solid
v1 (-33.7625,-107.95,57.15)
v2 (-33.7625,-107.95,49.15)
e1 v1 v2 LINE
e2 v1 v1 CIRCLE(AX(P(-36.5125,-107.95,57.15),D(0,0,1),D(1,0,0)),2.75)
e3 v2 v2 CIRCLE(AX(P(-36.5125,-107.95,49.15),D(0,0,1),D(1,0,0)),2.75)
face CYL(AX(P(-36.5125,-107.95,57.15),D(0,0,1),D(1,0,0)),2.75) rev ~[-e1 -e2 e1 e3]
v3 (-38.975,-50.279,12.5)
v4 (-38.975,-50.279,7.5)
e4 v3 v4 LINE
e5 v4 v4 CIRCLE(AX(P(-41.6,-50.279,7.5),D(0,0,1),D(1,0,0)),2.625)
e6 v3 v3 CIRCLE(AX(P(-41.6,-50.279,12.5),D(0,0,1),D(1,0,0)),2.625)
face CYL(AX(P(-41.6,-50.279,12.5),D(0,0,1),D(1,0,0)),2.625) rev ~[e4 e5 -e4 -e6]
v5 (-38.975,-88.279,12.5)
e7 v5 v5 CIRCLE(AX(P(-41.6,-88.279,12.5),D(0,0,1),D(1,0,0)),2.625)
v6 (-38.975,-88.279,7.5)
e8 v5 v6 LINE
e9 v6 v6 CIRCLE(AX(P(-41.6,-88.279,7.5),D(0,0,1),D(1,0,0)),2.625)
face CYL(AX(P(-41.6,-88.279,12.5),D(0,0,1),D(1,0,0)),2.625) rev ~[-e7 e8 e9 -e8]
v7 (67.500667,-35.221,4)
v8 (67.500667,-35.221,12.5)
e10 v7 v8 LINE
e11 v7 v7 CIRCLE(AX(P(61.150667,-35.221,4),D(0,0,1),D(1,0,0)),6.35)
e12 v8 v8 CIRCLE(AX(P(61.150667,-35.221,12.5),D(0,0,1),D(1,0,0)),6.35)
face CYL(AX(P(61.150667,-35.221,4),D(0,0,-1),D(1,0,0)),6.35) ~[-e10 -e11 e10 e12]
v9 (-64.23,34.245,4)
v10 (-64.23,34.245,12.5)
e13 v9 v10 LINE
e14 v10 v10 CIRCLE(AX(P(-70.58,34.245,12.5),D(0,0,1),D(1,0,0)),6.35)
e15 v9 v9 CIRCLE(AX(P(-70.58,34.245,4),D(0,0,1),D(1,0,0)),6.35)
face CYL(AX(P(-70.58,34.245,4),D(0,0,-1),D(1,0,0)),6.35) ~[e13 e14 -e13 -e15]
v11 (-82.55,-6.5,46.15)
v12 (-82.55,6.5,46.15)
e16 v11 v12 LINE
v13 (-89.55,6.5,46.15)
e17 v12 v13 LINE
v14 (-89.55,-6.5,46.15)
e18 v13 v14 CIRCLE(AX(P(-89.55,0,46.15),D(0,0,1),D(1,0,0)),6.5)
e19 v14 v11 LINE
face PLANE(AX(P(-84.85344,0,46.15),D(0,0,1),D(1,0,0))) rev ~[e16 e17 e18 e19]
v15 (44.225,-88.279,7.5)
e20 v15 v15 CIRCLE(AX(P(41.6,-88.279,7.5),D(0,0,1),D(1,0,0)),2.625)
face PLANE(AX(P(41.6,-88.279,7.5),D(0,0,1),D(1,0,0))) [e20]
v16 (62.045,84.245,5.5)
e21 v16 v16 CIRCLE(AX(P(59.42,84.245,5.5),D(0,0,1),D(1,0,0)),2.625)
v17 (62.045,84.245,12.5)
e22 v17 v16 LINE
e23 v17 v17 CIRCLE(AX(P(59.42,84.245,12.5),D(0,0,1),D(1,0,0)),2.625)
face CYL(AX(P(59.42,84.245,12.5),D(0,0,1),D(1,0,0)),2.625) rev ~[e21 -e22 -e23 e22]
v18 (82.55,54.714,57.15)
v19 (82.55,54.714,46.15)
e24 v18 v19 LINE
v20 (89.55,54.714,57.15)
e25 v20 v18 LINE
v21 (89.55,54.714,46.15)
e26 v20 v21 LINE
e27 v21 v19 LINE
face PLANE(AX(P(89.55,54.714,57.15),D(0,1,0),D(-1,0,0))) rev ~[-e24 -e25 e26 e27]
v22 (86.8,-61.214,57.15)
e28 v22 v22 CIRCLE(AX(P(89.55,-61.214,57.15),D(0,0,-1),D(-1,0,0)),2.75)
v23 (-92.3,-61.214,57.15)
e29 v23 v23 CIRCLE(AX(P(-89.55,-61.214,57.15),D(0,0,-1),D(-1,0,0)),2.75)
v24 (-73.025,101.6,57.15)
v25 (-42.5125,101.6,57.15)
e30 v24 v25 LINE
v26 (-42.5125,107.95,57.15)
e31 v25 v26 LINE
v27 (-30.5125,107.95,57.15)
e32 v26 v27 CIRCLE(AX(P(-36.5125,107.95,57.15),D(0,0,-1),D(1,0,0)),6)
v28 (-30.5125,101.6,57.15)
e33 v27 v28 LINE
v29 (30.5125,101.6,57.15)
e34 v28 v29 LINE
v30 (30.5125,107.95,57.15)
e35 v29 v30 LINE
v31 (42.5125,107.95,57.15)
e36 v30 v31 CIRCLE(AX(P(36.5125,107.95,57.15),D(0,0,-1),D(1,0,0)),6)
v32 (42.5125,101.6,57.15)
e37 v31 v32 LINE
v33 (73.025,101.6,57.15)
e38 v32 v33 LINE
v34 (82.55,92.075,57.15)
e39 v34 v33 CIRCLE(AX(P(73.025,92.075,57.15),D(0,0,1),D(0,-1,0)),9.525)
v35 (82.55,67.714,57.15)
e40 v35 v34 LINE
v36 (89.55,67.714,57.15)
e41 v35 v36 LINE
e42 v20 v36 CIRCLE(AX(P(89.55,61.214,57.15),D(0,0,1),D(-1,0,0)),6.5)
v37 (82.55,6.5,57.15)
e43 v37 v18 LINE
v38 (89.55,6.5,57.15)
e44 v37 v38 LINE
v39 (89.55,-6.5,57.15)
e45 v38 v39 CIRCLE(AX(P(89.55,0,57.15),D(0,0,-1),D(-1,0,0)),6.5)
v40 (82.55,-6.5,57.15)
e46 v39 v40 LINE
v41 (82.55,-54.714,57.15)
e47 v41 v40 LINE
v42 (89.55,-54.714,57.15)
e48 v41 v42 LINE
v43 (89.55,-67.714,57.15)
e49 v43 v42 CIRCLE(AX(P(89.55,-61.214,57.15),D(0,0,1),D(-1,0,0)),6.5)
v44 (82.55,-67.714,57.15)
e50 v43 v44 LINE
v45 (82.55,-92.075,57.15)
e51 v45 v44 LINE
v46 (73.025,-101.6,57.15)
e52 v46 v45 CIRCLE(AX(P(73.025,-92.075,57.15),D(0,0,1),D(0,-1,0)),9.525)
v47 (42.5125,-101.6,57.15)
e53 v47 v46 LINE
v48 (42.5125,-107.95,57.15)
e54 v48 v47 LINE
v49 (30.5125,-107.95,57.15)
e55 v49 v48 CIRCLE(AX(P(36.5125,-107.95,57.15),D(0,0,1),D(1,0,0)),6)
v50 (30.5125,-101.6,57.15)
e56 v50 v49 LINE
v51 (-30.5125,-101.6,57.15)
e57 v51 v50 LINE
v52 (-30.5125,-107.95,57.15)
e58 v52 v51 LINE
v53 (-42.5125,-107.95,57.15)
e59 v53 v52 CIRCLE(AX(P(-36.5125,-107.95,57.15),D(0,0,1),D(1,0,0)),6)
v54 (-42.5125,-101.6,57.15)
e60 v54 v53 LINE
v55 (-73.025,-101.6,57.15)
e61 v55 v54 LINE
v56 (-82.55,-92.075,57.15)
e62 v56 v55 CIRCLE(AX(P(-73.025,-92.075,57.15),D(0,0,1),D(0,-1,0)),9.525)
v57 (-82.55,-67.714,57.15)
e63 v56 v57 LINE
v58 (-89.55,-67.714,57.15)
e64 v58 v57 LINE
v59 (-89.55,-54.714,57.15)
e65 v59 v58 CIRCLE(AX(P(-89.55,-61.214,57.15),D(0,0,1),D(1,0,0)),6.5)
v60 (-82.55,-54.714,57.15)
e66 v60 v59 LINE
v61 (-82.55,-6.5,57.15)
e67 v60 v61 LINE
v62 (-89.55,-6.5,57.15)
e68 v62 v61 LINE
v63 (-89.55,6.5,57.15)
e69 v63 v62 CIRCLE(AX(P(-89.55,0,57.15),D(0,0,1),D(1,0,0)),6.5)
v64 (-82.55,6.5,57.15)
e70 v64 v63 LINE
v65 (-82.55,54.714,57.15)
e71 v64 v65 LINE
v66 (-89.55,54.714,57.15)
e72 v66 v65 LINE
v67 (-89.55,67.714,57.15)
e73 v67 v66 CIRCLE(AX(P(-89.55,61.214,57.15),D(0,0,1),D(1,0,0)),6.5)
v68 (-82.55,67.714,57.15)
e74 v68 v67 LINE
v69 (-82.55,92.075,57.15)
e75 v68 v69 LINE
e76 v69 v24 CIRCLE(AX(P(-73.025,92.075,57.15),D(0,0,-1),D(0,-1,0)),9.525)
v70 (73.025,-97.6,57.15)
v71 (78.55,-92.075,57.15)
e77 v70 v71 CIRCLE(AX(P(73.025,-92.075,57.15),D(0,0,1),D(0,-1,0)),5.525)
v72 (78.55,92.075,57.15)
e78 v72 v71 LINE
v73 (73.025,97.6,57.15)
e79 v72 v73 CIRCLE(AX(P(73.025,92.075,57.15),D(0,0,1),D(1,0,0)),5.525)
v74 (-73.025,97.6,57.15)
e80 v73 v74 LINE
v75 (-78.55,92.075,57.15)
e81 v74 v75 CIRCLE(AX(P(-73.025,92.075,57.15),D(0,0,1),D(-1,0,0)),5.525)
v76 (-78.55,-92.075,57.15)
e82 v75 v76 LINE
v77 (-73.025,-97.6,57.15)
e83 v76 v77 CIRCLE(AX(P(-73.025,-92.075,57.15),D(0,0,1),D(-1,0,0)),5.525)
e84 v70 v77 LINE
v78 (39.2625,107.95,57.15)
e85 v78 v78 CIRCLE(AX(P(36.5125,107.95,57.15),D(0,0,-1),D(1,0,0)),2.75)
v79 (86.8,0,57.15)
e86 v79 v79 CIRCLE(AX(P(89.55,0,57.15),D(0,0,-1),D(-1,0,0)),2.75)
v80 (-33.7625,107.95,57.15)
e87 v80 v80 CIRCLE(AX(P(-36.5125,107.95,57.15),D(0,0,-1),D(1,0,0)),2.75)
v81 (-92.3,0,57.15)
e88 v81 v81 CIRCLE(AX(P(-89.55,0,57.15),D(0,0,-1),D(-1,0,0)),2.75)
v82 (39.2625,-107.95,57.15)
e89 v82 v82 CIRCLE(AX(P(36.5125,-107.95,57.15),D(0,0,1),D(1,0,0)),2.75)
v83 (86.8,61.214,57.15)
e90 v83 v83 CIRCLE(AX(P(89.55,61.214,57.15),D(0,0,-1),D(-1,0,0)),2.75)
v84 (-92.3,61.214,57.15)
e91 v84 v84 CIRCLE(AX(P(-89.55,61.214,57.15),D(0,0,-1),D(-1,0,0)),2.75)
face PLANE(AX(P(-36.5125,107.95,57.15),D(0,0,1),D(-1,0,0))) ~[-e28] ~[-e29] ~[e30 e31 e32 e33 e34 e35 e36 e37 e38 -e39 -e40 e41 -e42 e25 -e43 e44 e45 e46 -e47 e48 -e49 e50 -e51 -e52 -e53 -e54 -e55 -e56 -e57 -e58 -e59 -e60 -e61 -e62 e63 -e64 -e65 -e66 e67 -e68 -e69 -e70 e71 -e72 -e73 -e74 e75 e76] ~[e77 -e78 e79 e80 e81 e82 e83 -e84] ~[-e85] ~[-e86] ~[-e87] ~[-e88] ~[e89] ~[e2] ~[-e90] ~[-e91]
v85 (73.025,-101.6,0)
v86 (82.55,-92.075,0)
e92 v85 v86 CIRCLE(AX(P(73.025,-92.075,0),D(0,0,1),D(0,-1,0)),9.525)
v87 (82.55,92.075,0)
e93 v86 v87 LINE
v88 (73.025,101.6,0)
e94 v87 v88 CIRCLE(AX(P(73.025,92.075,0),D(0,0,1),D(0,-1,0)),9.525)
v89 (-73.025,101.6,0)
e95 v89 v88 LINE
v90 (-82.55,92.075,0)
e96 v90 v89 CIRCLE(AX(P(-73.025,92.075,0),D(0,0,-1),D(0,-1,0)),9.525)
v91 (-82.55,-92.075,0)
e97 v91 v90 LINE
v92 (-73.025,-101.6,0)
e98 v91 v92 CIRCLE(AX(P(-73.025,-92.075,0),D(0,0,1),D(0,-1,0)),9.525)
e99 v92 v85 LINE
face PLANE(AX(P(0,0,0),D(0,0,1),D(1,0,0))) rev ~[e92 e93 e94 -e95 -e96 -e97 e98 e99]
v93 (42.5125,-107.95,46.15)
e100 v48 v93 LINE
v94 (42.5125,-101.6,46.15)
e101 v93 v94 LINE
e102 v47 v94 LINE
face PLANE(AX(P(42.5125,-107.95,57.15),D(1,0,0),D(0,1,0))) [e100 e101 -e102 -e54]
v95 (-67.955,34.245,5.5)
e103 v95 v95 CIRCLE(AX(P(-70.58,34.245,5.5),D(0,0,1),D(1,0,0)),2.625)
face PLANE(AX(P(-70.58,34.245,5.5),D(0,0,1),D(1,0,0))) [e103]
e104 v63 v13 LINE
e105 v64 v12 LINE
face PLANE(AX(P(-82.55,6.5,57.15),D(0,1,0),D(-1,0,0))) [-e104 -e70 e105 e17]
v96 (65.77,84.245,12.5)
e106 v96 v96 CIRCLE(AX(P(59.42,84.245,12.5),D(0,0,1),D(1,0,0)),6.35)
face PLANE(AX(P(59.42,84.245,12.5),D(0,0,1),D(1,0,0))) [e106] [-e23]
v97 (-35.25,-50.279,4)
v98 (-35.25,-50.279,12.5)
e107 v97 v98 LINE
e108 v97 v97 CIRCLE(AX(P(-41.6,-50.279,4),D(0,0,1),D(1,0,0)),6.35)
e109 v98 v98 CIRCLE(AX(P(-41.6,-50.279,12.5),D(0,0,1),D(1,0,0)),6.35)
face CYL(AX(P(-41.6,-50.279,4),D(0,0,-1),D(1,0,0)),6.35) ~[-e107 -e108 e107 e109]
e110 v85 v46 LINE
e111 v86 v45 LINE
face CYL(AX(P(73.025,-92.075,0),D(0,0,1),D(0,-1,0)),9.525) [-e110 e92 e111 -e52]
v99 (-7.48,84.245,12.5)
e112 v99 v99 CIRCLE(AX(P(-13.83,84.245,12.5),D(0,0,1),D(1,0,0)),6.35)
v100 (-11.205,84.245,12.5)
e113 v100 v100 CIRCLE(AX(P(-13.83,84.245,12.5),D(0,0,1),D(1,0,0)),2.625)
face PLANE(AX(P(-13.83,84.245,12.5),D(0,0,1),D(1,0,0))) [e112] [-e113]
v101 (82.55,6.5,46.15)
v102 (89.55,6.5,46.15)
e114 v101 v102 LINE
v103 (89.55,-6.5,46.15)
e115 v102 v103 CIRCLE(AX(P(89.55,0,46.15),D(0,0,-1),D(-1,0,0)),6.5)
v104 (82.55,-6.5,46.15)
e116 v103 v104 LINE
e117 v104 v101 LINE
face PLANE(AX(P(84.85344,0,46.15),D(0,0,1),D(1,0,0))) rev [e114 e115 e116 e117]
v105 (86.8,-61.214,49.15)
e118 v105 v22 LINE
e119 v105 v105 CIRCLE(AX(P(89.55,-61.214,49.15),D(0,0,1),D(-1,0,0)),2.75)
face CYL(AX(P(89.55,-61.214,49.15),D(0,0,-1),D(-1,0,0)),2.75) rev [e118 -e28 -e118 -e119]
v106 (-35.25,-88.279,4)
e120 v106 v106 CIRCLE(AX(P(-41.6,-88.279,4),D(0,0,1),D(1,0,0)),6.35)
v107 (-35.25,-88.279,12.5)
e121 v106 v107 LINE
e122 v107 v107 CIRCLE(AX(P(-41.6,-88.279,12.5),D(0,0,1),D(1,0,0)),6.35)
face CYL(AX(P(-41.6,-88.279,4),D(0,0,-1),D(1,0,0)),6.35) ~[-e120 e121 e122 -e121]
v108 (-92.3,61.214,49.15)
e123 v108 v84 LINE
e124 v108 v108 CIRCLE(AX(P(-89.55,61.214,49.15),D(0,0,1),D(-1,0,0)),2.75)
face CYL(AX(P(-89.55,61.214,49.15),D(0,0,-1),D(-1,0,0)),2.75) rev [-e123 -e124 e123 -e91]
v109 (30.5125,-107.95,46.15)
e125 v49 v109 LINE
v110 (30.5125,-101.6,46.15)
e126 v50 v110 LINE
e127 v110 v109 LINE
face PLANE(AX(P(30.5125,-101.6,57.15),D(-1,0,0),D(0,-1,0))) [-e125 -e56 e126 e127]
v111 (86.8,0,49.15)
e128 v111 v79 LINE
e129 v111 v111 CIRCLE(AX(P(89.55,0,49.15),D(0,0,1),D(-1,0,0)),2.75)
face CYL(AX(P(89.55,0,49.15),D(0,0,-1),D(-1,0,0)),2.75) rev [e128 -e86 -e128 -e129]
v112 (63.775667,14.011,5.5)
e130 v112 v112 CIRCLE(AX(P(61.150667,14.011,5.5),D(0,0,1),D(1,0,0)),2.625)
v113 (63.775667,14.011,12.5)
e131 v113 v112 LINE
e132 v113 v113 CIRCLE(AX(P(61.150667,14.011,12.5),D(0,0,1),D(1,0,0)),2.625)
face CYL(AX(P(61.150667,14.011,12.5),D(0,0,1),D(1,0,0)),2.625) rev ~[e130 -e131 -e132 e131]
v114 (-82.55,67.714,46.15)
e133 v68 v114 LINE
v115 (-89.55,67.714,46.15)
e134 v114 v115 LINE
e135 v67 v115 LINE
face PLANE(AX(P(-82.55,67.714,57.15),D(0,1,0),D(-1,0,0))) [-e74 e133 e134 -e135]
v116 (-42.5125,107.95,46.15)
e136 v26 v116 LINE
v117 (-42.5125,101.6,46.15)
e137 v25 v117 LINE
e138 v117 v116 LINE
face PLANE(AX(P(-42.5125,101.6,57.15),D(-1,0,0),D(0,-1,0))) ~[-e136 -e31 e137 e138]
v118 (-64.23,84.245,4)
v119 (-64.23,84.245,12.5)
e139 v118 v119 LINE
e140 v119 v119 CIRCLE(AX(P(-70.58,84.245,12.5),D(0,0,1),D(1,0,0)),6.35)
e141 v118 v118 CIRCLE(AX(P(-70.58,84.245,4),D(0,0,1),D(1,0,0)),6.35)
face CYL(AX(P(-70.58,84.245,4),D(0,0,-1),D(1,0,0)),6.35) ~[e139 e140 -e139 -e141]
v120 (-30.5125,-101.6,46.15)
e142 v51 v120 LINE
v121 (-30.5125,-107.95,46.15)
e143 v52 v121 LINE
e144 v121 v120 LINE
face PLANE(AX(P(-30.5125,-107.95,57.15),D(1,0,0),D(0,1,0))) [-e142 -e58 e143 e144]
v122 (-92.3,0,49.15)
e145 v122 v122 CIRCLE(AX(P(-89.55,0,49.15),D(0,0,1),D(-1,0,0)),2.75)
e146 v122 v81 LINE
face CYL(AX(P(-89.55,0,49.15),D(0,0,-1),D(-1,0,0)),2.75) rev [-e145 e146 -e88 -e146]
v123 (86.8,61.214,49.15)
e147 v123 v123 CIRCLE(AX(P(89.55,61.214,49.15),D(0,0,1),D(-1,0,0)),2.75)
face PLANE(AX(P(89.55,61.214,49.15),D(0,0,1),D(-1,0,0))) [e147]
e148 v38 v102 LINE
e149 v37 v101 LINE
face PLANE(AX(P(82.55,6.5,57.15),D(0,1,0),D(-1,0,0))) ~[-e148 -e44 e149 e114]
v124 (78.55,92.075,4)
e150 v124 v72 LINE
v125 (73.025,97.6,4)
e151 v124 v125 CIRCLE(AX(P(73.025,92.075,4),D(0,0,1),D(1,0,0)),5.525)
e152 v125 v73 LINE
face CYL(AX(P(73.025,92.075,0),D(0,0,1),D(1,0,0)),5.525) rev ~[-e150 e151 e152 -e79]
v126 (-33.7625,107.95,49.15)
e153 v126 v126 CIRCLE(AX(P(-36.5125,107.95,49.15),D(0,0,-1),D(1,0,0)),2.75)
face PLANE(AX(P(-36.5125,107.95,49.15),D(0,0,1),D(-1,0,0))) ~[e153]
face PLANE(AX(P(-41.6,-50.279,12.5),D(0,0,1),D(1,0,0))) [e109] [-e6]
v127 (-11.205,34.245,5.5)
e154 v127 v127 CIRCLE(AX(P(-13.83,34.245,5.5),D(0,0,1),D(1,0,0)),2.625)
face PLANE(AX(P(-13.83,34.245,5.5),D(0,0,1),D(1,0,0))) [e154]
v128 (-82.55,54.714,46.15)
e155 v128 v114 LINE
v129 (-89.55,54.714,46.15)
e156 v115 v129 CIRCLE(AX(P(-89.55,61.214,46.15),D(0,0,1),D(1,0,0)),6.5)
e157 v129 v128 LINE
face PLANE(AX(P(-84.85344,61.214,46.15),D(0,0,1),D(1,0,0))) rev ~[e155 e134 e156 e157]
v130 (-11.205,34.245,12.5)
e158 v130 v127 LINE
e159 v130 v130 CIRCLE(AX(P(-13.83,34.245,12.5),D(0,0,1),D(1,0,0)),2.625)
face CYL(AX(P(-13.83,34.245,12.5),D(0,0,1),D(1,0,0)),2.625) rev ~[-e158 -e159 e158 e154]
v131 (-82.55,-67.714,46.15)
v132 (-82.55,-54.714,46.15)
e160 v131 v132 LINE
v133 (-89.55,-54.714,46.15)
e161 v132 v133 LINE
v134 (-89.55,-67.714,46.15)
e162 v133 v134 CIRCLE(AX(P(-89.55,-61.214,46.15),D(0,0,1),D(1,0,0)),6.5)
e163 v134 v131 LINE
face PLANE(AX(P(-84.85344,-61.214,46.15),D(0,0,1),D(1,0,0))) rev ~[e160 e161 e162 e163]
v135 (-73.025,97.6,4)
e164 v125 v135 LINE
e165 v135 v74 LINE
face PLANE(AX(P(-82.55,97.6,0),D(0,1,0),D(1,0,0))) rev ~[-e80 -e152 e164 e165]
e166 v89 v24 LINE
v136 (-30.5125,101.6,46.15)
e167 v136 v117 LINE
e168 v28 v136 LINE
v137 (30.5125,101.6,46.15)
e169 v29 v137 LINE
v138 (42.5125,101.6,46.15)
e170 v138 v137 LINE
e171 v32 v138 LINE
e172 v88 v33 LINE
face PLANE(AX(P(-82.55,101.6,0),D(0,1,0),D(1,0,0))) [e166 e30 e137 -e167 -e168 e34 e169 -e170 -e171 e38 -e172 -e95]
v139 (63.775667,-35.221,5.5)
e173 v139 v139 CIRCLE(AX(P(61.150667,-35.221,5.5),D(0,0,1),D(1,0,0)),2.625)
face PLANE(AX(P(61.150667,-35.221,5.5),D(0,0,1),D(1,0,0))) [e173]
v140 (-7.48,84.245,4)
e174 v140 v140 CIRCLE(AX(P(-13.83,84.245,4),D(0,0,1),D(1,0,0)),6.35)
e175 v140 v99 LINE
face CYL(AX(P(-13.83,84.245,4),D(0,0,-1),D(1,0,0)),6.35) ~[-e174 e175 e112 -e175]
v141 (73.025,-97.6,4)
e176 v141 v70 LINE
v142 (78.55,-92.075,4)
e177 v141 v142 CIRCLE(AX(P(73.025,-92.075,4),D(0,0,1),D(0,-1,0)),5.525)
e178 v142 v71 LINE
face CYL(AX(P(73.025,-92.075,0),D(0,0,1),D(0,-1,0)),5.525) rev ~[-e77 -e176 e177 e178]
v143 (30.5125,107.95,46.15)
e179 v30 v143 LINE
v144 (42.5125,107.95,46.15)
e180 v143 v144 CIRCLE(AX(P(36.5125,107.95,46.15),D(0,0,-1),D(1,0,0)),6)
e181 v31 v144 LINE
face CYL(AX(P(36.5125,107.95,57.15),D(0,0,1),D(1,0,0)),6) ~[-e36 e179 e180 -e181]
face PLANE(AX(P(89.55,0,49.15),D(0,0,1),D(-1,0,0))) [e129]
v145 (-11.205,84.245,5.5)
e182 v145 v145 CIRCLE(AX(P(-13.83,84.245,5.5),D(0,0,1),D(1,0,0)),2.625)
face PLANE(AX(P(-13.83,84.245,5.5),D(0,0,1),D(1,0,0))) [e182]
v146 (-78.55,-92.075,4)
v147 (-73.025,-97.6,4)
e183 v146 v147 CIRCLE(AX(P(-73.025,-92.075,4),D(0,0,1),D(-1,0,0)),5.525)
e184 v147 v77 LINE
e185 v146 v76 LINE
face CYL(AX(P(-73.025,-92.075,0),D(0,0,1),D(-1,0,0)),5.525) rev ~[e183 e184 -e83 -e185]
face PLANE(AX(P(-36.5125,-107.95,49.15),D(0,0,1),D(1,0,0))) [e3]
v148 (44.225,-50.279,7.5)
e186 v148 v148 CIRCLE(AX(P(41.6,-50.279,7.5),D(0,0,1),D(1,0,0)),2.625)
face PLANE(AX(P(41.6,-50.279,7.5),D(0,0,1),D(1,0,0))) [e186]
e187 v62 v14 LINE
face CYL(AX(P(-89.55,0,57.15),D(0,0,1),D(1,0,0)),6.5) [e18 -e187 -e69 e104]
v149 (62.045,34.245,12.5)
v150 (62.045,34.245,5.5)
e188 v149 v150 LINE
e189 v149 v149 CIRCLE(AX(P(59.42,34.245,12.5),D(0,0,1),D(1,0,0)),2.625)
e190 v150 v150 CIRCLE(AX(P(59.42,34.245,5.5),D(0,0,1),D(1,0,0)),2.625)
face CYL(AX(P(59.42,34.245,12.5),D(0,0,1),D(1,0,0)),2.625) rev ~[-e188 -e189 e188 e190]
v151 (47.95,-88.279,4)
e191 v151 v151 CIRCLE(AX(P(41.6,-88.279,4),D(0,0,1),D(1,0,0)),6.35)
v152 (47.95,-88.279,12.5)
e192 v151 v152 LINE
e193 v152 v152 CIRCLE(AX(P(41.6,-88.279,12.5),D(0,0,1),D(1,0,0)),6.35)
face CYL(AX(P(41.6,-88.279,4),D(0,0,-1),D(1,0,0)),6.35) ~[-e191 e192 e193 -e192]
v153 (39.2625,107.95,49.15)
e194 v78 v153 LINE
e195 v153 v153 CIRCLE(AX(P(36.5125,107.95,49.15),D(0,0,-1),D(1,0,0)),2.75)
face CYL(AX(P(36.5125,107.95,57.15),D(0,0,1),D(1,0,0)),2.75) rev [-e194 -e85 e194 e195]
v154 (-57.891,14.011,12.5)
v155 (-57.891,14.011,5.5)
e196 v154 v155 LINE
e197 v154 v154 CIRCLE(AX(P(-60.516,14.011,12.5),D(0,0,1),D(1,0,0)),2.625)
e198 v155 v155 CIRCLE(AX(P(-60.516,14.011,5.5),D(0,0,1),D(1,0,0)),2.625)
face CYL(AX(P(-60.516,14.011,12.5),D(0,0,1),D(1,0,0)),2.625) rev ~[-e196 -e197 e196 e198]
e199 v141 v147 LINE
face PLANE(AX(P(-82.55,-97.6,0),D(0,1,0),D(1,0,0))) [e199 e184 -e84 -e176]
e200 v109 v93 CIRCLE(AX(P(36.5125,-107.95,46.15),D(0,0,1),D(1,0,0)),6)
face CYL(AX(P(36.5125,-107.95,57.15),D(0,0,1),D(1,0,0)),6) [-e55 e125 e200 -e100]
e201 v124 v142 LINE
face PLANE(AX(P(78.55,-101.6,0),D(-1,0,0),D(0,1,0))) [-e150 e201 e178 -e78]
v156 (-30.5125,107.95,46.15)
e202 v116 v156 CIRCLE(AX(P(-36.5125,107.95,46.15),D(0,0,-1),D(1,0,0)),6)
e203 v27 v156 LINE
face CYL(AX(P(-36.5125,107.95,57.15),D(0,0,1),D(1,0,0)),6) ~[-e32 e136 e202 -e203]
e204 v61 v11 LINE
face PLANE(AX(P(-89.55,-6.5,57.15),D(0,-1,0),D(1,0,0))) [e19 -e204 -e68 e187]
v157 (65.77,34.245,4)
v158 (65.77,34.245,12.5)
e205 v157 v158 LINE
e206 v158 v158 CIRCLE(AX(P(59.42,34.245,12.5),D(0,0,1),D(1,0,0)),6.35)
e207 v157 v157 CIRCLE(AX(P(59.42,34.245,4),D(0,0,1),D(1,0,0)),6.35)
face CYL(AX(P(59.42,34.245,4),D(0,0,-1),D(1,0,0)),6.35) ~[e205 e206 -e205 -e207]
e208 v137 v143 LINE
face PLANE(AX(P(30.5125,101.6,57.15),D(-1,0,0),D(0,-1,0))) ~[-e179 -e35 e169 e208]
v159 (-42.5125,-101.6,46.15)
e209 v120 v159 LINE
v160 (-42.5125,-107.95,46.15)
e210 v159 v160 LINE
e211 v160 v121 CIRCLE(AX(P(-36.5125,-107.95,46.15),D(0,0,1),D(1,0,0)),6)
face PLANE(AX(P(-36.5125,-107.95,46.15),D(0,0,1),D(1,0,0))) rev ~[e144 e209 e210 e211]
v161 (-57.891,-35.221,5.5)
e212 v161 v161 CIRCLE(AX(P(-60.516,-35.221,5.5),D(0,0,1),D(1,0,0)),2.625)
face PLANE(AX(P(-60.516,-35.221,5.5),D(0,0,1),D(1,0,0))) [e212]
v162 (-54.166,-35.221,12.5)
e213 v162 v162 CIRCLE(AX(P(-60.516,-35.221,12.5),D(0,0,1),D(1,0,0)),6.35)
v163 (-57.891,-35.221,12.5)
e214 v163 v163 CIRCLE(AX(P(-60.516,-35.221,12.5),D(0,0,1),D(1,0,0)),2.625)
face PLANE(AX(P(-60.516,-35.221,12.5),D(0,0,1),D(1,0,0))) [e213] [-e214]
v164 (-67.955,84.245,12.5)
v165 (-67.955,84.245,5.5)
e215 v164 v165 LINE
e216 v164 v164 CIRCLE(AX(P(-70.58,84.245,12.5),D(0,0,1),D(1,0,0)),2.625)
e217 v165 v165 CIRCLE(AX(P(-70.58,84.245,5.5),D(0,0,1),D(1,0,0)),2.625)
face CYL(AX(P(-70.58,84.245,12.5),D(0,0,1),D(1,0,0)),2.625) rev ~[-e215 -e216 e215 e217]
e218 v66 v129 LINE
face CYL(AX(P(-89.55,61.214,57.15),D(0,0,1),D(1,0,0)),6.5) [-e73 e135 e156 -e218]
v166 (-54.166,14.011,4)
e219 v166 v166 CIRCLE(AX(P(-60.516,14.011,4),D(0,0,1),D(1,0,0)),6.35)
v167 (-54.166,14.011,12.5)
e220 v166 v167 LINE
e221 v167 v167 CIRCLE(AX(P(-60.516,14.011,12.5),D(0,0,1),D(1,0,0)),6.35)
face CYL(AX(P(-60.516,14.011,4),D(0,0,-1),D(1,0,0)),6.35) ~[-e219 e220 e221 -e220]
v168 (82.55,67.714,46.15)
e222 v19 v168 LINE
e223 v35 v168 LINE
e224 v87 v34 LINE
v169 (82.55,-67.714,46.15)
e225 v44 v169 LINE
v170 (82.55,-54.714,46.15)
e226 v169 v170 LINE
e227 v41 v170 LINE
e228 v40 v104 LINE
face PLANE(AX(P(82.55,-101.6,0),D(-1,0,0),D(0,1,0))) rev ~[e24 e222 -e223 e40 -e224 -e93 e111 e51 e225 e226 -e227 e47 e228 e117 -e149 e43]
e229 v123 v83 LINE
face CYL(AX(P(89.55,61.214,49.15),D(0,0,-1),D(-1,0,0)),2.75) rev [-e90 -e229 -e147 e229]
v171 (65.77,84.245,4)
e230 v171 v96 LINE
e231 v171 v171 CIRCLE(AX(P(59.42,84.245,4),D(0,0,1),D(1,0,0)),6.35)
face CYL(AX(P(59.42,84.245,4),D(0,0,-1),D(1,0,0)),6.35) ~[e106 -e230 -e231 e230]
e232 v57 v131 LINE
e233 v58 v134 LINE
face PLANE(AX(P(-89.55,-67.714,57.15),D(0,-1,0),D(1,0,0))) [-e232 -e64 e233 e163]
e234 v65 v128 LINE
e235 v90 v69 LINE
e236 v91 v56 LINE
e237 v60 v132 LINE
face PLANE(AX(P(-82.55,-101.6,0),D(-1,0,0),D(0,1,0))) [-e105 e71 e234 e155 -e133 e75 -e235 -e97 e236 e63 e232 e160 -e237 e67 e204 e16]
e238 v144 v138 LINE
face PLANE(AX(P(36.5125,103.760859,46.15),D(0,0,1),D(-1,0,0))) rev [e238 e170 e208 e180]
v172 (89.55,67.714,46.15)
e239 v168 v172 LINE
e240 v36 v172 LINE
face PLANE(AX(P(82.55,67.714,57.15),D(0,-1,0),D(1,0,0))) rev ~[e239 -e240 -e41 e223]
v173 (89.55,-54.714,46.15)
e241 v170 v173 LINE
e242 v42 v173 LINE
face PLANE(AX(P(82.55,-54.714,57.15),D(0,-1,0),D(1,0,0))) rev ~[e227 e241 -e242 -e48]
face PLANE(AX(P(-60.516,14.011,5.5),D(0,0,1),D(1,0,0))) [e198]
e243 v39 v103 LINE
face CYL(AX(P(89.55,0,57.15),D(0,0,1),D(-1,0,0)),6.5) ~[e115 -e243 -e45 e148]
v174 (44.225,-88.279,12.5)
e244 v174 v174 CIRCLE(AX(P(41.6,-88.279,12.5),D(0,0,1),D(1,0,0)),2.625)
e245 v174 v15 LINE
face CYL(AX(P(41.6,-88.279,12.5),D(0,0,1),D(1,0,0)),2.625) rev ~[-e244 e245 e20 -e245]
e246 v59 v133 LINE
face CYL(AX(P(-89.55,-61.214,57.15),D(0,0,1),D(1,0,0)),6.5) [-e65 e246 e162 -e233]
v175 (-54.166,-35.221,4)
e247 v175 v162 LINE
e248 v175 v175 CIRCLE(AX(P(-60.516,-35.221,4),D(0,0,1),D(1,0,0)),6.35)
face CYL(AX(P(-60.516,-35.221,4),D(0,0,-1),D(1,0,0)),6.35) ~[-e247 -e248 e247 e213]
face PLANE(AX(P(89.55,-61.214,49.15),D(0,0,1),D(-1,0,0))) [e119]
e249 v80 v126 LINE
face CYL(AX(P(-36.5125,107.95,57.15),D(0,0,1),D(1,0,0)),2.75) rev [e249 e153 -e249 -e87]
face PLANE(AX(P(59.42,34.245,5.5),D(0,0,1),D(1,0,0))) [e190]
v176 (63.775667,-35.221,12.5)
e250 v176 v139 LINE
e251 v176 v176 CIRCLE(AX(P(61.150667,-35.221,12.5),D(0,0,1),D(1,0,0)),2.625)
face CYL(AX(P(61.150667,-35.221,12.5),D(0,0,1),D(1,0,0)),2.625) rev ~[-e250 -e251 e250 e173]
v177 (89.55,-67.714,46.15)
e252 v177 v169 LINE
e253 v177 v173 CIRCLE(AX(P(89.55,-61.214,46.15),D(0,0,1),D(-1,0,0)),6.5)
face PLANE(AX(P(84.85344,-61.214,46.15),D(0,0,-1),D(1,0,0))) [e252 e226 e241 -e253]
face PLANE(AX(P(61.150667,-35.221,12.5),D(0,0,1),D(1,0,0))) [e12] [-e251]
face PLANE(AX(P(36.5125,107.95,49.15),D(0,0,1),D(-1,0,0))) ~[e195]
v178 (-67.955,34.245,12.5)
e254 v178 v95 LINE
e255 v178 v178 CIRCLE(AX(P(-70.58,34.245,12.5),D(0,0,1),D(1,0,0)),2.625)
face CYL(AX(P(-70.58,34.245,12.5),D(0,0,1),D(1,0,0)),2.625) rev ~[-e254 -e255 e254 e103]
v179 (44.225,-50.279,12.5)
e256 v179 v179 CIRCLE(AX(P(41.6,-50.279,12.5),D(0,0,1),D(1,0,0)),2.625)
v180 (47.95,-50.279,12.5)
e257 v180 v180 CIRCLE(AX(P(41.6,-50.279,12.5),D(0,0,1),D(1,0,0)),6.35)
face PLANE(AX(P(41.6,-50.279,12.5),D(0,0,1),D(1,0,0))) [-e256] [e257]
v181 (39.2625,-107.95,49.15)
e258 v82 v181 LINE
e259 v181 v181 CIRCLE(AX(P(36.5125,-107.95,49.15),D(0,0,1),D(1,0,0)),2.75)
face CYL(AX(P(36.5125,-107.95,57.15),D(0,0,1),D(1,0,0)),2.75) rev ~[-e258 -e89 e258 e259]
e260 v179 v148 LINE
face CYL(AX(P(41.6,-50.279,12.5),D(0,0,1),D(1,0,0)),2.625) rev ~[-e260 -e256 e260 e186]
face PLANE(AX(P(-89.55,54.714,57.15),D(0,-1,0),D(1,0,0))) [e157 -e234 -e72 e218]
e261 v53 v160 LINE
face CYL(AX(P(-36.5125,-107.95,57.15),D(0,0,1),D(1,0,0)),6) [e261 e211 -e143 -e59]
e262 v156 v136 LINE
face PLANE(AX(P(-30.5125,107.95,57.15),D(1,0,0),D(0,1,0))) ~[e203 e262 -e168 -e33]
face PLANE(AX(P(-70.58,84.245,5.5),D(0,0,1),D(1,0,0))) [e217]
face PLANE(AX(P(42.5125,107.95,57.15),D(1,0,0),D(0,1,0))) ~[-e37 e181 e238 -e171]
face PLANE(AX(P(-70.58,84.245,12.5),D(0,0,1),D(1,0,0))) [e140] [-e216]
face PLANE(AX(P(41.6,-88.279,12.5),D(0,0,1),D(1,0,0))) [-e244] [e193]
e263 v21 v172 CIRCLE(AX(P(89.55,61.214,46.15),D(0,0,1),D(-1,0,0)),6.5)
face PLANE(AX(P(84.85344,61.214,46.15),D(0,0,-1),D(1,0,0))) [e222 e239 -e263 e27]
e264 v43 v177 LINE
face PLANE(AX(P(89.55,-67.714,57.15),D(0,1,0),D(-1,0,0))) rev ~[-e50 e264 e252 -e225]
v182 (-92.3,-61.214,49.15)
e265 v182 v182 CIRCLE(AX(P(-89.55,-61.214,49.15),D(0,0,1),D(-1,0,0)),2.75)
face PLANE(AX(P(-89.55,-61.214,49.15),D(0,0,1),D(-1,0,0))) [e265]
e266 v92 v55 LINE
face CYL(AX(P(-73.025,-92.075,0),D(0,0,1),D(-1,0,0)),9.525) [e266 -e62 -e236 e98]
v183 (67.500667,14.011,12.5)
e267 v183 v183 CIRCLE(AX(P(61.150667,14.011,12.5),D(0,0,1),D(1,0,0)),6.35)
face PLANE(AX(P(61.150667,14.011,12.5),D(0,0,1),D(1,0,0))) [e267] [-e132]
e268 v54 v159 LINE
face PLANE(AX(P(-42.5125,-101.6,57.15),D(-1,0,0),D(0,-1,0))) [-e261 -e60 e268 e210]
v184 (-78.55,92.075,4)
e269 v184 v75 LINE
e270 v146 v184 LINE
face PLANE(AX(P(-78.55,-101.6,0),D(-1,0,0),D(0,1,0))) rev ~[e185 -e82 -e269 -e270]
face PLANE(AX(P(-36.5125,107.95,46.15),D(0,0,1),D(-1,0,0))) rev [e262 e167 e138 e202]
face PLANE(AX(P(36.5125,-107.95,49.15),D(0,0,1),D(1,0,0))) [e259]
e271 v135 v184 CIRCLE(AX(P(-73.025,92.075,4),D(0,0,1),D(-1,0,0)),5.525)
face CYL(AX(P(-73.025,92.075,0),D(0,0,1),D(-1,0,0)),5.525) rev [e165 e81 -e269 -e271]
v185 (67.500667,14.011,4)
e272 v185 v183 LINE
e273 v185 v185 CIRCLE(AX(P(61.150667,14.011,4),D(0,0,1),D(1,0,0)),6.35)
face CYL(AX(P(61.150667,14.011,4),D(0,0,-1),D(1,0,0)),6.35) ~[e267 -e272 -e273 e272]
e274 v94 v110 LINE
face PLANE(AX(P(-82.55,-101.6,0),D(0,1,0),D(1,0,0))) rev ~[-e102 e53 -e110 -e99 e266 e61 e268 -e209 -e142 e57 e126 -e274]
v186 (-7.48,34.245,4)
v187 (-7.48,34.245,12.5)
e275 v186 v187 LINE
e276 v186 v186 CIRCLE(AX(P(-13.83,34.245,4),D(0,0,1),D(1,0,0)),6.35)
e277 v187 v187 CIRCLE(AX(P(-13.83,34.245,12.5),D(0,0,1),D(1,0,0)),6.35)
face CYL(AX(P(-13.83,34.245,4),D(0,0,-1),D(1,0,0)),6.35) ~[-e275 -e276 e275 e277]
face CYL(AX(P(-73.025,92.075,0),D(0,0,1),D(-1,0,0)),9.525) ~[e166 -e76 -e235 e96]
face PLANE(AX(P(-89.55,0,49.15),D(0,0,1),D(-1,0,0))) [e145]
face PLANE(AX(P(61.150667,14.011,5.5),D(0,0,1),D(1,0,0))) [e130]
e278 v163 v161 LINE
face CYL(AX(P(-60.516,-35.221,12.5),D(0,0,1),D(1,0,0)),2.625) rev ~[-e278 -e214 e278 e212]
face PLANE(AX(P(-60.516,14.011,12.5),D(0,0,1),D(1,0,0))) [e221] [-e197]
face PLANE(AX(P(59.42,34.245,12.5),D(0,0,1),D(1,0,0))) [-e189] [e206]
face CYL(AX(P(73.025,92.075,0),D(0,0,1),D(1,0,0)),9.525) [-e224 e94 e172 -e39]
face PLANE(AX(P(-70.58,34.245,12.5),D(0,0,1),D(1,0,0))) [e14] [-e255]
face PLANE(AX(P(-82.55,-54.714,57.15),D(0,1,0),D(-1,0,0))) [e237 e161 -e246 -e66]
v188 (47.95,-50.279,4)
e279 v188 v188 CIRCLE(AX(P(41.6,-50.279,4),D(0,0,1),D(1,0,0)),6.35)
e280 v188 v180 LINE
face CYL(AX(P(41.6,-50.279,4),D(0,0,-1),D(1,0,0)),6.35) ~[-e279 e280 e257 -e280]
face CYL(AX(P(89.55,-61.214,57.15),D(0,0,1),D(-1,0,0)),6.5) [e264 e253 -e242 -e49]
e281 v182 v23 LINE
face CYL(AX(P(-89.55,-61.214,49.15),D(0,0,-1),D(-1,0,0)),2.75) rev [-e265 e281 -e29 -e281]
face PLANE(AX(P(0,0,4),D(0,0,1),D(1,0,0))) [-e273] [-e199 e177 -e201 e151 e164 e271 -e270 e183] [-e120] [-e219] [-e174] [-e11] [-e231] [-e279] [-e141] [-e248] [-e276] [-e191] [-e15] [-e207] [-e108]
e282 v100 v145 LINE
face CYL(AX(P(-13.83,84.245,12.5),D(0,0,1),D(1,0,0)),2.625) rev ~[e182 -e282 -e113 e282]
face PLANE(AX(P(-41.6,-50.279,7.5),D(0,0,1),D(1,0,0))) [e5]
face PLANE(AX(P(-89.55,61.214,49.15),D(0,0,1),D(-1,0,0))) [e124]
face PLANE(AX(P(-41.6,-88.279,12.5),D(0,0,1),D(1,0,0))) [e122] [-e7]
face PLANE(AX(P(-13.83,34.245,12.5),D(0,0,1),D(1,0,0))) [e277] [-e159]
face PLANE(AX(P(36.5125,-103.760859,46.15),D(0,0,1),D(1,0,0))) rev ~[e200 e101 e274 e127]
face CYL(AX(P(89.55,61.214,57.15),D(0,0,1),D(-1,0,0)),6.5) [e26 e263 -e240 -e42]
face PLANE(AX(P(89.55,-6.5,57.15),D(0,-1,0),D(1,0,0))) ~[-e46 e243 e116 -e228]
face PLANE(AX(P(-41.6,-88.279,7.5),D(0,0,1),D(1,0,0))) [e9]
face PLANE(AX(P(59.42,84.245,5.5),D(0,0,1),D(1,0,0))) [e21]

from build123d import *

# Parameters (mm, degrees)
SKETCH1_W               = 165.1
SKETCH1_H               = 203.2
BOSS_EXTRUDE1_DEPTH     = 57.15
FILLET1_R               = 9.525
SHELL1_T                = -4
SKETCH2_R               = 6.35
BOSS_EXTRUDE2_DEPTH     = 8.5
SKETCH3_R               = 2.625
CUT_EXTRUDE1_DEPTH      = 5
SKETCH2_3_R             = 6.35
BOSS_EXTRUDE6_DEPTH     = 8.5
SKETCH13_R              = 2.625
CUT_EXTRUDE5_DEPTH      = 7
BOSS_EXTRUDE3_DEPTH     = 11
CUT_EXTRUDE2_START      = -8
SKETCH4_6_R             = 2.75
CUT_EXTRUDE2_DEPTH      = 160.04398366
LPATTERN1_COUNT         = 2
LPATTERN1_PITCH         = 61.214
LPATTERN1_COUNT_DIR2    = 2
LPATTERN1_PITCH_DIR2    = 61.214
MIRROR1_COPY_1_DEPTH    = 11
MIRROR1_COPY_2_DEPTH    = 11
MIRROR1_COPY_3_DEPTH    = 11
MIRROR1_START           = -8
MIRROR1_COPY_4_SKETCH_R = 2.75
MIRROR1_COPY_4_DEPTH    = 160.04398366
MIRROR1_COPY_5_SKETCH_R = 2.75
MIRROR1_COPY_5_DEPTH    = 160.04398366
MIRROR1_COPY_6_SKETCH_R = 2.75
MIRROR1_COPY_6_DEPTH    = 160.04398366
MIRROR1_COPY_7_DEPTH    = 11
MIRROR1_COPY_8_SKETCH_R = 2.75
MIRROR1_COPY_8_DEPTH    = 160.04398366
BOSS_EXTRUDE5_DEPTH     = 11
SKETCH12_3_R            = 2.75
CUT_EXTRUDE3_DEPTH      = 8


with BuildPart() as part:
    # Sketch1 → Boss-Extrude1 (new body)
    with BuildSketch(Plane.XY):
        Rectangle(SKETCH1_W, SKETCH1_H)
    extrude(amount=BOSS_EXTRUDE1_DEPTH)

    # Fillet1
    fillet1_edges = [part.edges().sort_by_distance(p)[0] for p in [
        (82.55, 101.6, 28.575),
        (-82.55, 101.6, 28.575),
        (-82.55, -101.6, 28.575),
        (82.55, -101.6, 28.575),
    ]]
    fillet(fillet1_edges, radius=FILLET1_R)

    # Shell1
    shell1_openings = [part.faces().sort_by_distance(p)[0] for p in [
        (0, 0, 57.15),
    ]]
    offset(amount=SHELL1_T, openings=shell1_openings, kind=Kind.INTERSECTION)

    # Sketch2 → Boss-Extrude2 (add)
    with BuildSketch(Plane.XY.offset(4)):
        with Locations((-41.6, -88.279)):
            Circle(SKETCH2_R)
        with Locations((41.6, -88.279)):
            Circle(SKETCH2_R)
        with Locations((41.6, -50.279)):
            Circle(SKETCH2_R)
        with Locations((-41.6, -50.279)):
            Circle(SKETCH2_R)
    extrude(amount=BOSS_EXTRUDE2_DEPTH)

    # Sketch3 → Cut-Extrude1 (cut)
    with BuildSketch(Plane.XY.offset(12.5)):
        with Locations((-41.6, -88.279)):
            Circle(SKETCH3_R)
        with Locations((41.6, -88.279)):
            Circle(SKETCH3_R)
        with Locations((41.6, -50.279)):
            Circle(SKETCH3_R)
        with Locations((-41.6, -50.279)):
            Circle(SKETCH3_R)
    extrude(amount=-CUT_EXTRUDE1_DEPTH, mode=Mode.SUBTRACT)

    # Sketch2<3> → Boss-Extrude6 (add)
    with BuildSketch(Plane.XY.offset(4)):
        with Locations((-60.516, -35.221)):
            Circle(SKETCH2_3_R)
        with Locations((61.150666667, -35.221)):
            Circle(SKETCH2_3_R)
        with Locations((61.150666667, 14.011)):
            Circle(SKETCH2_3_R)
        with Locations((-60.516, 14.011)):
            Circle(SKETCH2_3_R)
        with Locations((-70.58, 34.245)):
            Circle(SKETCH2_3_R)
        with Locations((59.42, 34.245)):
            Circle(SKETCH2_3_R)
        with Locations((-70.58, 84.245)):
            Circle(SKETCH2_3_R)
        with Locations((59.42, 84.245)):
            Circle(SKETCH2_3_R)
        with Locations((-13.83, 34.245)):
            Circle(SKETCH2_3_R)
        with Locations((-13.83, 84.245)):
            Circle(SKETCH2_3_R)
    extrude(amount=BOSS_EXTRUDE6_DEPTH)

    # Sketch13 → Cut-Extrude5 (cut)
    with BuildSketch(Plane.XY.offset(12.5)):
        with Locations((-60.516, -35.221)):
            Circle(SKETCH13_R)
        with Locations((61.150666667, -35.221)):
            Circle(SKETCH13_R)
        with Locations((61.150666667, 14.011)):
            Circle(SKETCH13_R)
        with Locations((-60.516, 14.011)):
            Circle(SKETCH13_R)
        with Locations((-13.83, 34.245)):
            Circle(SKETCH13_R)
        with Locations((-70.58, 34.245)):
            Circle(SKETCH13_R)
        with Locations((59.42, 34.245)):
            Circle(SKETCH13_R)
        with Locations((59.42, 84.245)):
            Circle(SKETCH13_R)
        with Locations((-13.83, 84.245)):
            Circle(SKETCH13_R)
        with Locations((-70.58, 84.245)):
            Circle(SKETCH13_R)
    extrude(amount=-CUT_EXTRUDE5_DEPTH, mode=Mode.SUBTRACT)

    # Sketch4 → Boss-Extrude3 (add)
    with BuildSketch(Plane.XY.offset(57.15)):
        with BuildLine():
            Line((-82.55, -6.5), (-82.55, 6.5))
            Line((-82.55, 6.5), (-89.55, 6.5))
            ThreePointArc((-89.55, 6.5), (-96.05, 0), (-89.55, -6.5))
            Line((-89.55, -6.5), (-82.55, -6.5))
        make_face()
    boss_extrude3 = extrude(amount=-BOSS_EXTRUDE3_DEPTH)

    # Sketch4<6> → Cut-Extrude2 (cut)
    with BuildSketch(Plane.XY.offset(57.15).offset(CUT_EXTRUDE2_START)):
        with Locations((-89.55, 0)):
            Circle(SKETCH4_6_R)
    cut_extrude2 = extrude(amount=CUT_EXTRUDE2_DEPTH, mode=Mode.SUBTRACT)

    # LPattern1: Boss-Extrude3, Cut-Extrude2 2 × 2
    with Locations(*[Vector(0, 1, 0) * (i * LPATTERN1_PITCH) + Vector(0, -1, 0) * (j * LPATTERN1_PITCH_DIR2) for i in range(LPATTERN1_COUNT) for j in range(LPATTERN1_COUNT_DIR2) if (i, j) != (0, 0)]):
        add(boss_extrude3)
        add(cut_extrude2, mode=Mode.SUBTRACT)

    # Mirror1 copy 1 sketch → Mirror1 copy 1 (add)
    with BuildSketch(Plane(origin=(0, -61.214, 57.15), x_dir=(-1, 0, 0), z_dir=(0, 0, 1))):
        with BuildLine():
            Line((-82.55, 6.5), (-82.55, -6.5))
            Line((-82.55, -6.5), (-89.55, -6.5))
            ThreePointArc((-89.55, -6.5), (-96.05, 0), (-89.55, 6.5))
            Line((-89.55, 6.5), (-82.55, 6.5))
        make_face()
    extrude(amount=-MIRROR1_COPY_1_DEPTH)

    # Mirror1 copy 2 sketch → Mirror1 copy 2 (add)
    with BuildSketch(Plane(origin=(0, 61.214, 57.15), x_dir=(-1, 0, 0), z_dir=(0, 0, 1))):
        with BuildLine():
            Line((-82.55, 6.5), (-82.55, -6.5))
            Line((-82.55, -6.5), (-89.55, -6.5))
            ThreePointArc((-89.55, -6.5), (-96.05, 0), (-89.55, 6.5))
            Line((-89.55, 6.5), (-82.55, 6.5))
        make_face()
    extrude(amount=-MIRROR1_COPY_2_DEPTH)

    # Mirror1 copy 3 sketch → Mirror1 copy 3 (add)
    with BuildSketch(Plane(origin=(0, 0, 57.15), x_dir=(-1, 0, 0), z_dir=(0, 0, 1))):
        with BuildLine():
            Line((-82.55, 6.5), (-82.55, -6.5))
            Line((-82.55, -6.5), (-89.55, -6.5))
            ThreePointArc((-89.55, -6.5), (-96.05, 0), (-89.55, 6.5))
            Line((-89.55, 6.5), (-82.55, 6.5))
        make_face()
    extrude(amount=-MIRROR1_COPY_3_DEPTH)

    # Mirror1 copy 4 sketch → Mirror1 copy 4 (cut)
    with BuildSketch(Plane(origin=(0, -61.214, 57.15), x_dir=(-1, 0, 0), z_dir=(0, 0, 1)).offset(MIRROR1_START)):
        with Locations((-89.55, 0)):
            Circle(MIRROR1_COPY_4_SKETCH_R)
    extrude(amount=MIRROR1_COPY_4_DEPTH, mode=Mode.SUBTRACT)

    # Mirror1 copy 5 sketch → Mirror1 copy 5 (cut)
    with BuildSketch(Plane(origin=(0, 61.214, 57.15), x_dir=(-1, 0, 0), z_dir=(0, 0, 1)).offset(MIRROR1_START)):
        with Locations((-89.55, 0)):
            Circle(MIRROR1_COPY_5_SKETCH_R)
    extrude(amount=MIRROR1_COPY_5_DEPTH, mode=Mode.SUBTRACT)

    # Mirror1 copy 6 sketch → Mirror1 copy 6 (cut)
    with BuildSketch(Plane(origin=(0, 0, 57.15), x_dir=(-1, 0, 0), z_dir=(0, 0, 1)).offset(MIRROR1_START)):
        with Locations((-89.55, 0)):
            Circle(MIRROR1_COPY_6_SKETCH_R)
    extrude(amount=MIRROR1_COPY_6_DEPTH, mode=Mode.SUBTRACT)

    # Mirror1 copy 7 sketch → Mirror1 copy 7 (add)
    with BuildSketch(Plane(origin=(0, 0, 57.15), x_dir=(-1, 0, 0), z_dir=(0, 0, 1))):
        with BuildLine():
            Line((-82.55, 6.5), (-82.55, -6.5))
            Line((-82.55, -6.5), (-89.55, -6.5))
            ThreePointArc((-89.55, -6.5), (-96.05, 0), (-89.55, 6.5))
            Line((-89.55, 6.5), (-82.55, 6.5))
        make_face()
    extrude(amount=-MIRROR1_COPY_7_DEPTH)

    # Mirror1 copy 8 sketch → Mirror1 copy 8 (cut)
    with BuildSketch(Plane(origin=(0, 0, 57.15), x_dir=(-1, 0, 0), z_dir=(0, 0, 1)).offset(MIRROR1_START)):
        with Locations((-89.55, 0)):
            Circle(MIRROR1_COPY_8_SKETCH_R)
    extrude(amount=MIRROR1_COPY_8_DEPTH, mode=Mode.SUBTRACT)

    # Sketch12 → Boss-Extrude5 (add)
    with BuildSketch(Plane.XY.offset(57.15)):
        with BuildLine():
            Line((42.5125, -101.6), (30.5125, -101.6))
            Line((30.5125, -101.6), (30.5125, -107.95))
            ThreePointArc((30.5125, -107.95), (36.5125, -113.95), (42.5125, -107.95))
            Line((42.5125, -107.95), (42.5125, -101.6))
        make_face()
        with BuildLine():
            Line((-42.5125, -101.6), (-42.5125, -107.95))
            ThreePointArc((-42.5125, -107.95), (-36.5125, -113.95), (-30.5125, -107.95))
            Line((-30.5125, -107.95), (-30.5125, -101.6))
            Line((-30.5125, -101.6), (-42.5125, -101.6))
        make_face()
    boss_extrude5 = extrude(amount=-BOSS_EXTRUDE5_DEPTH)

    # Sketch12<3> → Cut-Extrude3 (cut)
    with BuildSketch(Plane.XY.offset(57.15)):
        with Locations((-36.5125, -107.95)):
            Circle(SKETCH12_3_R)
        with Locations((36.5125, -107.95)):
            Circle(SKETCH12_3_R)
    cut_extrude3 = extrude(amount=-CUT_EXTRUDE3_DEPTH, mode=Mode.SUBTRACT)

    # Mirror2: Boss-Extrude5, Cut-Extrude3 across plane
    add(boss_extrude5.mirror(Plane.ZX))
    add(cut_extrude3.mirror(Plane.ZX), mode=Mode.SUBTRACT)


solid = part.part
